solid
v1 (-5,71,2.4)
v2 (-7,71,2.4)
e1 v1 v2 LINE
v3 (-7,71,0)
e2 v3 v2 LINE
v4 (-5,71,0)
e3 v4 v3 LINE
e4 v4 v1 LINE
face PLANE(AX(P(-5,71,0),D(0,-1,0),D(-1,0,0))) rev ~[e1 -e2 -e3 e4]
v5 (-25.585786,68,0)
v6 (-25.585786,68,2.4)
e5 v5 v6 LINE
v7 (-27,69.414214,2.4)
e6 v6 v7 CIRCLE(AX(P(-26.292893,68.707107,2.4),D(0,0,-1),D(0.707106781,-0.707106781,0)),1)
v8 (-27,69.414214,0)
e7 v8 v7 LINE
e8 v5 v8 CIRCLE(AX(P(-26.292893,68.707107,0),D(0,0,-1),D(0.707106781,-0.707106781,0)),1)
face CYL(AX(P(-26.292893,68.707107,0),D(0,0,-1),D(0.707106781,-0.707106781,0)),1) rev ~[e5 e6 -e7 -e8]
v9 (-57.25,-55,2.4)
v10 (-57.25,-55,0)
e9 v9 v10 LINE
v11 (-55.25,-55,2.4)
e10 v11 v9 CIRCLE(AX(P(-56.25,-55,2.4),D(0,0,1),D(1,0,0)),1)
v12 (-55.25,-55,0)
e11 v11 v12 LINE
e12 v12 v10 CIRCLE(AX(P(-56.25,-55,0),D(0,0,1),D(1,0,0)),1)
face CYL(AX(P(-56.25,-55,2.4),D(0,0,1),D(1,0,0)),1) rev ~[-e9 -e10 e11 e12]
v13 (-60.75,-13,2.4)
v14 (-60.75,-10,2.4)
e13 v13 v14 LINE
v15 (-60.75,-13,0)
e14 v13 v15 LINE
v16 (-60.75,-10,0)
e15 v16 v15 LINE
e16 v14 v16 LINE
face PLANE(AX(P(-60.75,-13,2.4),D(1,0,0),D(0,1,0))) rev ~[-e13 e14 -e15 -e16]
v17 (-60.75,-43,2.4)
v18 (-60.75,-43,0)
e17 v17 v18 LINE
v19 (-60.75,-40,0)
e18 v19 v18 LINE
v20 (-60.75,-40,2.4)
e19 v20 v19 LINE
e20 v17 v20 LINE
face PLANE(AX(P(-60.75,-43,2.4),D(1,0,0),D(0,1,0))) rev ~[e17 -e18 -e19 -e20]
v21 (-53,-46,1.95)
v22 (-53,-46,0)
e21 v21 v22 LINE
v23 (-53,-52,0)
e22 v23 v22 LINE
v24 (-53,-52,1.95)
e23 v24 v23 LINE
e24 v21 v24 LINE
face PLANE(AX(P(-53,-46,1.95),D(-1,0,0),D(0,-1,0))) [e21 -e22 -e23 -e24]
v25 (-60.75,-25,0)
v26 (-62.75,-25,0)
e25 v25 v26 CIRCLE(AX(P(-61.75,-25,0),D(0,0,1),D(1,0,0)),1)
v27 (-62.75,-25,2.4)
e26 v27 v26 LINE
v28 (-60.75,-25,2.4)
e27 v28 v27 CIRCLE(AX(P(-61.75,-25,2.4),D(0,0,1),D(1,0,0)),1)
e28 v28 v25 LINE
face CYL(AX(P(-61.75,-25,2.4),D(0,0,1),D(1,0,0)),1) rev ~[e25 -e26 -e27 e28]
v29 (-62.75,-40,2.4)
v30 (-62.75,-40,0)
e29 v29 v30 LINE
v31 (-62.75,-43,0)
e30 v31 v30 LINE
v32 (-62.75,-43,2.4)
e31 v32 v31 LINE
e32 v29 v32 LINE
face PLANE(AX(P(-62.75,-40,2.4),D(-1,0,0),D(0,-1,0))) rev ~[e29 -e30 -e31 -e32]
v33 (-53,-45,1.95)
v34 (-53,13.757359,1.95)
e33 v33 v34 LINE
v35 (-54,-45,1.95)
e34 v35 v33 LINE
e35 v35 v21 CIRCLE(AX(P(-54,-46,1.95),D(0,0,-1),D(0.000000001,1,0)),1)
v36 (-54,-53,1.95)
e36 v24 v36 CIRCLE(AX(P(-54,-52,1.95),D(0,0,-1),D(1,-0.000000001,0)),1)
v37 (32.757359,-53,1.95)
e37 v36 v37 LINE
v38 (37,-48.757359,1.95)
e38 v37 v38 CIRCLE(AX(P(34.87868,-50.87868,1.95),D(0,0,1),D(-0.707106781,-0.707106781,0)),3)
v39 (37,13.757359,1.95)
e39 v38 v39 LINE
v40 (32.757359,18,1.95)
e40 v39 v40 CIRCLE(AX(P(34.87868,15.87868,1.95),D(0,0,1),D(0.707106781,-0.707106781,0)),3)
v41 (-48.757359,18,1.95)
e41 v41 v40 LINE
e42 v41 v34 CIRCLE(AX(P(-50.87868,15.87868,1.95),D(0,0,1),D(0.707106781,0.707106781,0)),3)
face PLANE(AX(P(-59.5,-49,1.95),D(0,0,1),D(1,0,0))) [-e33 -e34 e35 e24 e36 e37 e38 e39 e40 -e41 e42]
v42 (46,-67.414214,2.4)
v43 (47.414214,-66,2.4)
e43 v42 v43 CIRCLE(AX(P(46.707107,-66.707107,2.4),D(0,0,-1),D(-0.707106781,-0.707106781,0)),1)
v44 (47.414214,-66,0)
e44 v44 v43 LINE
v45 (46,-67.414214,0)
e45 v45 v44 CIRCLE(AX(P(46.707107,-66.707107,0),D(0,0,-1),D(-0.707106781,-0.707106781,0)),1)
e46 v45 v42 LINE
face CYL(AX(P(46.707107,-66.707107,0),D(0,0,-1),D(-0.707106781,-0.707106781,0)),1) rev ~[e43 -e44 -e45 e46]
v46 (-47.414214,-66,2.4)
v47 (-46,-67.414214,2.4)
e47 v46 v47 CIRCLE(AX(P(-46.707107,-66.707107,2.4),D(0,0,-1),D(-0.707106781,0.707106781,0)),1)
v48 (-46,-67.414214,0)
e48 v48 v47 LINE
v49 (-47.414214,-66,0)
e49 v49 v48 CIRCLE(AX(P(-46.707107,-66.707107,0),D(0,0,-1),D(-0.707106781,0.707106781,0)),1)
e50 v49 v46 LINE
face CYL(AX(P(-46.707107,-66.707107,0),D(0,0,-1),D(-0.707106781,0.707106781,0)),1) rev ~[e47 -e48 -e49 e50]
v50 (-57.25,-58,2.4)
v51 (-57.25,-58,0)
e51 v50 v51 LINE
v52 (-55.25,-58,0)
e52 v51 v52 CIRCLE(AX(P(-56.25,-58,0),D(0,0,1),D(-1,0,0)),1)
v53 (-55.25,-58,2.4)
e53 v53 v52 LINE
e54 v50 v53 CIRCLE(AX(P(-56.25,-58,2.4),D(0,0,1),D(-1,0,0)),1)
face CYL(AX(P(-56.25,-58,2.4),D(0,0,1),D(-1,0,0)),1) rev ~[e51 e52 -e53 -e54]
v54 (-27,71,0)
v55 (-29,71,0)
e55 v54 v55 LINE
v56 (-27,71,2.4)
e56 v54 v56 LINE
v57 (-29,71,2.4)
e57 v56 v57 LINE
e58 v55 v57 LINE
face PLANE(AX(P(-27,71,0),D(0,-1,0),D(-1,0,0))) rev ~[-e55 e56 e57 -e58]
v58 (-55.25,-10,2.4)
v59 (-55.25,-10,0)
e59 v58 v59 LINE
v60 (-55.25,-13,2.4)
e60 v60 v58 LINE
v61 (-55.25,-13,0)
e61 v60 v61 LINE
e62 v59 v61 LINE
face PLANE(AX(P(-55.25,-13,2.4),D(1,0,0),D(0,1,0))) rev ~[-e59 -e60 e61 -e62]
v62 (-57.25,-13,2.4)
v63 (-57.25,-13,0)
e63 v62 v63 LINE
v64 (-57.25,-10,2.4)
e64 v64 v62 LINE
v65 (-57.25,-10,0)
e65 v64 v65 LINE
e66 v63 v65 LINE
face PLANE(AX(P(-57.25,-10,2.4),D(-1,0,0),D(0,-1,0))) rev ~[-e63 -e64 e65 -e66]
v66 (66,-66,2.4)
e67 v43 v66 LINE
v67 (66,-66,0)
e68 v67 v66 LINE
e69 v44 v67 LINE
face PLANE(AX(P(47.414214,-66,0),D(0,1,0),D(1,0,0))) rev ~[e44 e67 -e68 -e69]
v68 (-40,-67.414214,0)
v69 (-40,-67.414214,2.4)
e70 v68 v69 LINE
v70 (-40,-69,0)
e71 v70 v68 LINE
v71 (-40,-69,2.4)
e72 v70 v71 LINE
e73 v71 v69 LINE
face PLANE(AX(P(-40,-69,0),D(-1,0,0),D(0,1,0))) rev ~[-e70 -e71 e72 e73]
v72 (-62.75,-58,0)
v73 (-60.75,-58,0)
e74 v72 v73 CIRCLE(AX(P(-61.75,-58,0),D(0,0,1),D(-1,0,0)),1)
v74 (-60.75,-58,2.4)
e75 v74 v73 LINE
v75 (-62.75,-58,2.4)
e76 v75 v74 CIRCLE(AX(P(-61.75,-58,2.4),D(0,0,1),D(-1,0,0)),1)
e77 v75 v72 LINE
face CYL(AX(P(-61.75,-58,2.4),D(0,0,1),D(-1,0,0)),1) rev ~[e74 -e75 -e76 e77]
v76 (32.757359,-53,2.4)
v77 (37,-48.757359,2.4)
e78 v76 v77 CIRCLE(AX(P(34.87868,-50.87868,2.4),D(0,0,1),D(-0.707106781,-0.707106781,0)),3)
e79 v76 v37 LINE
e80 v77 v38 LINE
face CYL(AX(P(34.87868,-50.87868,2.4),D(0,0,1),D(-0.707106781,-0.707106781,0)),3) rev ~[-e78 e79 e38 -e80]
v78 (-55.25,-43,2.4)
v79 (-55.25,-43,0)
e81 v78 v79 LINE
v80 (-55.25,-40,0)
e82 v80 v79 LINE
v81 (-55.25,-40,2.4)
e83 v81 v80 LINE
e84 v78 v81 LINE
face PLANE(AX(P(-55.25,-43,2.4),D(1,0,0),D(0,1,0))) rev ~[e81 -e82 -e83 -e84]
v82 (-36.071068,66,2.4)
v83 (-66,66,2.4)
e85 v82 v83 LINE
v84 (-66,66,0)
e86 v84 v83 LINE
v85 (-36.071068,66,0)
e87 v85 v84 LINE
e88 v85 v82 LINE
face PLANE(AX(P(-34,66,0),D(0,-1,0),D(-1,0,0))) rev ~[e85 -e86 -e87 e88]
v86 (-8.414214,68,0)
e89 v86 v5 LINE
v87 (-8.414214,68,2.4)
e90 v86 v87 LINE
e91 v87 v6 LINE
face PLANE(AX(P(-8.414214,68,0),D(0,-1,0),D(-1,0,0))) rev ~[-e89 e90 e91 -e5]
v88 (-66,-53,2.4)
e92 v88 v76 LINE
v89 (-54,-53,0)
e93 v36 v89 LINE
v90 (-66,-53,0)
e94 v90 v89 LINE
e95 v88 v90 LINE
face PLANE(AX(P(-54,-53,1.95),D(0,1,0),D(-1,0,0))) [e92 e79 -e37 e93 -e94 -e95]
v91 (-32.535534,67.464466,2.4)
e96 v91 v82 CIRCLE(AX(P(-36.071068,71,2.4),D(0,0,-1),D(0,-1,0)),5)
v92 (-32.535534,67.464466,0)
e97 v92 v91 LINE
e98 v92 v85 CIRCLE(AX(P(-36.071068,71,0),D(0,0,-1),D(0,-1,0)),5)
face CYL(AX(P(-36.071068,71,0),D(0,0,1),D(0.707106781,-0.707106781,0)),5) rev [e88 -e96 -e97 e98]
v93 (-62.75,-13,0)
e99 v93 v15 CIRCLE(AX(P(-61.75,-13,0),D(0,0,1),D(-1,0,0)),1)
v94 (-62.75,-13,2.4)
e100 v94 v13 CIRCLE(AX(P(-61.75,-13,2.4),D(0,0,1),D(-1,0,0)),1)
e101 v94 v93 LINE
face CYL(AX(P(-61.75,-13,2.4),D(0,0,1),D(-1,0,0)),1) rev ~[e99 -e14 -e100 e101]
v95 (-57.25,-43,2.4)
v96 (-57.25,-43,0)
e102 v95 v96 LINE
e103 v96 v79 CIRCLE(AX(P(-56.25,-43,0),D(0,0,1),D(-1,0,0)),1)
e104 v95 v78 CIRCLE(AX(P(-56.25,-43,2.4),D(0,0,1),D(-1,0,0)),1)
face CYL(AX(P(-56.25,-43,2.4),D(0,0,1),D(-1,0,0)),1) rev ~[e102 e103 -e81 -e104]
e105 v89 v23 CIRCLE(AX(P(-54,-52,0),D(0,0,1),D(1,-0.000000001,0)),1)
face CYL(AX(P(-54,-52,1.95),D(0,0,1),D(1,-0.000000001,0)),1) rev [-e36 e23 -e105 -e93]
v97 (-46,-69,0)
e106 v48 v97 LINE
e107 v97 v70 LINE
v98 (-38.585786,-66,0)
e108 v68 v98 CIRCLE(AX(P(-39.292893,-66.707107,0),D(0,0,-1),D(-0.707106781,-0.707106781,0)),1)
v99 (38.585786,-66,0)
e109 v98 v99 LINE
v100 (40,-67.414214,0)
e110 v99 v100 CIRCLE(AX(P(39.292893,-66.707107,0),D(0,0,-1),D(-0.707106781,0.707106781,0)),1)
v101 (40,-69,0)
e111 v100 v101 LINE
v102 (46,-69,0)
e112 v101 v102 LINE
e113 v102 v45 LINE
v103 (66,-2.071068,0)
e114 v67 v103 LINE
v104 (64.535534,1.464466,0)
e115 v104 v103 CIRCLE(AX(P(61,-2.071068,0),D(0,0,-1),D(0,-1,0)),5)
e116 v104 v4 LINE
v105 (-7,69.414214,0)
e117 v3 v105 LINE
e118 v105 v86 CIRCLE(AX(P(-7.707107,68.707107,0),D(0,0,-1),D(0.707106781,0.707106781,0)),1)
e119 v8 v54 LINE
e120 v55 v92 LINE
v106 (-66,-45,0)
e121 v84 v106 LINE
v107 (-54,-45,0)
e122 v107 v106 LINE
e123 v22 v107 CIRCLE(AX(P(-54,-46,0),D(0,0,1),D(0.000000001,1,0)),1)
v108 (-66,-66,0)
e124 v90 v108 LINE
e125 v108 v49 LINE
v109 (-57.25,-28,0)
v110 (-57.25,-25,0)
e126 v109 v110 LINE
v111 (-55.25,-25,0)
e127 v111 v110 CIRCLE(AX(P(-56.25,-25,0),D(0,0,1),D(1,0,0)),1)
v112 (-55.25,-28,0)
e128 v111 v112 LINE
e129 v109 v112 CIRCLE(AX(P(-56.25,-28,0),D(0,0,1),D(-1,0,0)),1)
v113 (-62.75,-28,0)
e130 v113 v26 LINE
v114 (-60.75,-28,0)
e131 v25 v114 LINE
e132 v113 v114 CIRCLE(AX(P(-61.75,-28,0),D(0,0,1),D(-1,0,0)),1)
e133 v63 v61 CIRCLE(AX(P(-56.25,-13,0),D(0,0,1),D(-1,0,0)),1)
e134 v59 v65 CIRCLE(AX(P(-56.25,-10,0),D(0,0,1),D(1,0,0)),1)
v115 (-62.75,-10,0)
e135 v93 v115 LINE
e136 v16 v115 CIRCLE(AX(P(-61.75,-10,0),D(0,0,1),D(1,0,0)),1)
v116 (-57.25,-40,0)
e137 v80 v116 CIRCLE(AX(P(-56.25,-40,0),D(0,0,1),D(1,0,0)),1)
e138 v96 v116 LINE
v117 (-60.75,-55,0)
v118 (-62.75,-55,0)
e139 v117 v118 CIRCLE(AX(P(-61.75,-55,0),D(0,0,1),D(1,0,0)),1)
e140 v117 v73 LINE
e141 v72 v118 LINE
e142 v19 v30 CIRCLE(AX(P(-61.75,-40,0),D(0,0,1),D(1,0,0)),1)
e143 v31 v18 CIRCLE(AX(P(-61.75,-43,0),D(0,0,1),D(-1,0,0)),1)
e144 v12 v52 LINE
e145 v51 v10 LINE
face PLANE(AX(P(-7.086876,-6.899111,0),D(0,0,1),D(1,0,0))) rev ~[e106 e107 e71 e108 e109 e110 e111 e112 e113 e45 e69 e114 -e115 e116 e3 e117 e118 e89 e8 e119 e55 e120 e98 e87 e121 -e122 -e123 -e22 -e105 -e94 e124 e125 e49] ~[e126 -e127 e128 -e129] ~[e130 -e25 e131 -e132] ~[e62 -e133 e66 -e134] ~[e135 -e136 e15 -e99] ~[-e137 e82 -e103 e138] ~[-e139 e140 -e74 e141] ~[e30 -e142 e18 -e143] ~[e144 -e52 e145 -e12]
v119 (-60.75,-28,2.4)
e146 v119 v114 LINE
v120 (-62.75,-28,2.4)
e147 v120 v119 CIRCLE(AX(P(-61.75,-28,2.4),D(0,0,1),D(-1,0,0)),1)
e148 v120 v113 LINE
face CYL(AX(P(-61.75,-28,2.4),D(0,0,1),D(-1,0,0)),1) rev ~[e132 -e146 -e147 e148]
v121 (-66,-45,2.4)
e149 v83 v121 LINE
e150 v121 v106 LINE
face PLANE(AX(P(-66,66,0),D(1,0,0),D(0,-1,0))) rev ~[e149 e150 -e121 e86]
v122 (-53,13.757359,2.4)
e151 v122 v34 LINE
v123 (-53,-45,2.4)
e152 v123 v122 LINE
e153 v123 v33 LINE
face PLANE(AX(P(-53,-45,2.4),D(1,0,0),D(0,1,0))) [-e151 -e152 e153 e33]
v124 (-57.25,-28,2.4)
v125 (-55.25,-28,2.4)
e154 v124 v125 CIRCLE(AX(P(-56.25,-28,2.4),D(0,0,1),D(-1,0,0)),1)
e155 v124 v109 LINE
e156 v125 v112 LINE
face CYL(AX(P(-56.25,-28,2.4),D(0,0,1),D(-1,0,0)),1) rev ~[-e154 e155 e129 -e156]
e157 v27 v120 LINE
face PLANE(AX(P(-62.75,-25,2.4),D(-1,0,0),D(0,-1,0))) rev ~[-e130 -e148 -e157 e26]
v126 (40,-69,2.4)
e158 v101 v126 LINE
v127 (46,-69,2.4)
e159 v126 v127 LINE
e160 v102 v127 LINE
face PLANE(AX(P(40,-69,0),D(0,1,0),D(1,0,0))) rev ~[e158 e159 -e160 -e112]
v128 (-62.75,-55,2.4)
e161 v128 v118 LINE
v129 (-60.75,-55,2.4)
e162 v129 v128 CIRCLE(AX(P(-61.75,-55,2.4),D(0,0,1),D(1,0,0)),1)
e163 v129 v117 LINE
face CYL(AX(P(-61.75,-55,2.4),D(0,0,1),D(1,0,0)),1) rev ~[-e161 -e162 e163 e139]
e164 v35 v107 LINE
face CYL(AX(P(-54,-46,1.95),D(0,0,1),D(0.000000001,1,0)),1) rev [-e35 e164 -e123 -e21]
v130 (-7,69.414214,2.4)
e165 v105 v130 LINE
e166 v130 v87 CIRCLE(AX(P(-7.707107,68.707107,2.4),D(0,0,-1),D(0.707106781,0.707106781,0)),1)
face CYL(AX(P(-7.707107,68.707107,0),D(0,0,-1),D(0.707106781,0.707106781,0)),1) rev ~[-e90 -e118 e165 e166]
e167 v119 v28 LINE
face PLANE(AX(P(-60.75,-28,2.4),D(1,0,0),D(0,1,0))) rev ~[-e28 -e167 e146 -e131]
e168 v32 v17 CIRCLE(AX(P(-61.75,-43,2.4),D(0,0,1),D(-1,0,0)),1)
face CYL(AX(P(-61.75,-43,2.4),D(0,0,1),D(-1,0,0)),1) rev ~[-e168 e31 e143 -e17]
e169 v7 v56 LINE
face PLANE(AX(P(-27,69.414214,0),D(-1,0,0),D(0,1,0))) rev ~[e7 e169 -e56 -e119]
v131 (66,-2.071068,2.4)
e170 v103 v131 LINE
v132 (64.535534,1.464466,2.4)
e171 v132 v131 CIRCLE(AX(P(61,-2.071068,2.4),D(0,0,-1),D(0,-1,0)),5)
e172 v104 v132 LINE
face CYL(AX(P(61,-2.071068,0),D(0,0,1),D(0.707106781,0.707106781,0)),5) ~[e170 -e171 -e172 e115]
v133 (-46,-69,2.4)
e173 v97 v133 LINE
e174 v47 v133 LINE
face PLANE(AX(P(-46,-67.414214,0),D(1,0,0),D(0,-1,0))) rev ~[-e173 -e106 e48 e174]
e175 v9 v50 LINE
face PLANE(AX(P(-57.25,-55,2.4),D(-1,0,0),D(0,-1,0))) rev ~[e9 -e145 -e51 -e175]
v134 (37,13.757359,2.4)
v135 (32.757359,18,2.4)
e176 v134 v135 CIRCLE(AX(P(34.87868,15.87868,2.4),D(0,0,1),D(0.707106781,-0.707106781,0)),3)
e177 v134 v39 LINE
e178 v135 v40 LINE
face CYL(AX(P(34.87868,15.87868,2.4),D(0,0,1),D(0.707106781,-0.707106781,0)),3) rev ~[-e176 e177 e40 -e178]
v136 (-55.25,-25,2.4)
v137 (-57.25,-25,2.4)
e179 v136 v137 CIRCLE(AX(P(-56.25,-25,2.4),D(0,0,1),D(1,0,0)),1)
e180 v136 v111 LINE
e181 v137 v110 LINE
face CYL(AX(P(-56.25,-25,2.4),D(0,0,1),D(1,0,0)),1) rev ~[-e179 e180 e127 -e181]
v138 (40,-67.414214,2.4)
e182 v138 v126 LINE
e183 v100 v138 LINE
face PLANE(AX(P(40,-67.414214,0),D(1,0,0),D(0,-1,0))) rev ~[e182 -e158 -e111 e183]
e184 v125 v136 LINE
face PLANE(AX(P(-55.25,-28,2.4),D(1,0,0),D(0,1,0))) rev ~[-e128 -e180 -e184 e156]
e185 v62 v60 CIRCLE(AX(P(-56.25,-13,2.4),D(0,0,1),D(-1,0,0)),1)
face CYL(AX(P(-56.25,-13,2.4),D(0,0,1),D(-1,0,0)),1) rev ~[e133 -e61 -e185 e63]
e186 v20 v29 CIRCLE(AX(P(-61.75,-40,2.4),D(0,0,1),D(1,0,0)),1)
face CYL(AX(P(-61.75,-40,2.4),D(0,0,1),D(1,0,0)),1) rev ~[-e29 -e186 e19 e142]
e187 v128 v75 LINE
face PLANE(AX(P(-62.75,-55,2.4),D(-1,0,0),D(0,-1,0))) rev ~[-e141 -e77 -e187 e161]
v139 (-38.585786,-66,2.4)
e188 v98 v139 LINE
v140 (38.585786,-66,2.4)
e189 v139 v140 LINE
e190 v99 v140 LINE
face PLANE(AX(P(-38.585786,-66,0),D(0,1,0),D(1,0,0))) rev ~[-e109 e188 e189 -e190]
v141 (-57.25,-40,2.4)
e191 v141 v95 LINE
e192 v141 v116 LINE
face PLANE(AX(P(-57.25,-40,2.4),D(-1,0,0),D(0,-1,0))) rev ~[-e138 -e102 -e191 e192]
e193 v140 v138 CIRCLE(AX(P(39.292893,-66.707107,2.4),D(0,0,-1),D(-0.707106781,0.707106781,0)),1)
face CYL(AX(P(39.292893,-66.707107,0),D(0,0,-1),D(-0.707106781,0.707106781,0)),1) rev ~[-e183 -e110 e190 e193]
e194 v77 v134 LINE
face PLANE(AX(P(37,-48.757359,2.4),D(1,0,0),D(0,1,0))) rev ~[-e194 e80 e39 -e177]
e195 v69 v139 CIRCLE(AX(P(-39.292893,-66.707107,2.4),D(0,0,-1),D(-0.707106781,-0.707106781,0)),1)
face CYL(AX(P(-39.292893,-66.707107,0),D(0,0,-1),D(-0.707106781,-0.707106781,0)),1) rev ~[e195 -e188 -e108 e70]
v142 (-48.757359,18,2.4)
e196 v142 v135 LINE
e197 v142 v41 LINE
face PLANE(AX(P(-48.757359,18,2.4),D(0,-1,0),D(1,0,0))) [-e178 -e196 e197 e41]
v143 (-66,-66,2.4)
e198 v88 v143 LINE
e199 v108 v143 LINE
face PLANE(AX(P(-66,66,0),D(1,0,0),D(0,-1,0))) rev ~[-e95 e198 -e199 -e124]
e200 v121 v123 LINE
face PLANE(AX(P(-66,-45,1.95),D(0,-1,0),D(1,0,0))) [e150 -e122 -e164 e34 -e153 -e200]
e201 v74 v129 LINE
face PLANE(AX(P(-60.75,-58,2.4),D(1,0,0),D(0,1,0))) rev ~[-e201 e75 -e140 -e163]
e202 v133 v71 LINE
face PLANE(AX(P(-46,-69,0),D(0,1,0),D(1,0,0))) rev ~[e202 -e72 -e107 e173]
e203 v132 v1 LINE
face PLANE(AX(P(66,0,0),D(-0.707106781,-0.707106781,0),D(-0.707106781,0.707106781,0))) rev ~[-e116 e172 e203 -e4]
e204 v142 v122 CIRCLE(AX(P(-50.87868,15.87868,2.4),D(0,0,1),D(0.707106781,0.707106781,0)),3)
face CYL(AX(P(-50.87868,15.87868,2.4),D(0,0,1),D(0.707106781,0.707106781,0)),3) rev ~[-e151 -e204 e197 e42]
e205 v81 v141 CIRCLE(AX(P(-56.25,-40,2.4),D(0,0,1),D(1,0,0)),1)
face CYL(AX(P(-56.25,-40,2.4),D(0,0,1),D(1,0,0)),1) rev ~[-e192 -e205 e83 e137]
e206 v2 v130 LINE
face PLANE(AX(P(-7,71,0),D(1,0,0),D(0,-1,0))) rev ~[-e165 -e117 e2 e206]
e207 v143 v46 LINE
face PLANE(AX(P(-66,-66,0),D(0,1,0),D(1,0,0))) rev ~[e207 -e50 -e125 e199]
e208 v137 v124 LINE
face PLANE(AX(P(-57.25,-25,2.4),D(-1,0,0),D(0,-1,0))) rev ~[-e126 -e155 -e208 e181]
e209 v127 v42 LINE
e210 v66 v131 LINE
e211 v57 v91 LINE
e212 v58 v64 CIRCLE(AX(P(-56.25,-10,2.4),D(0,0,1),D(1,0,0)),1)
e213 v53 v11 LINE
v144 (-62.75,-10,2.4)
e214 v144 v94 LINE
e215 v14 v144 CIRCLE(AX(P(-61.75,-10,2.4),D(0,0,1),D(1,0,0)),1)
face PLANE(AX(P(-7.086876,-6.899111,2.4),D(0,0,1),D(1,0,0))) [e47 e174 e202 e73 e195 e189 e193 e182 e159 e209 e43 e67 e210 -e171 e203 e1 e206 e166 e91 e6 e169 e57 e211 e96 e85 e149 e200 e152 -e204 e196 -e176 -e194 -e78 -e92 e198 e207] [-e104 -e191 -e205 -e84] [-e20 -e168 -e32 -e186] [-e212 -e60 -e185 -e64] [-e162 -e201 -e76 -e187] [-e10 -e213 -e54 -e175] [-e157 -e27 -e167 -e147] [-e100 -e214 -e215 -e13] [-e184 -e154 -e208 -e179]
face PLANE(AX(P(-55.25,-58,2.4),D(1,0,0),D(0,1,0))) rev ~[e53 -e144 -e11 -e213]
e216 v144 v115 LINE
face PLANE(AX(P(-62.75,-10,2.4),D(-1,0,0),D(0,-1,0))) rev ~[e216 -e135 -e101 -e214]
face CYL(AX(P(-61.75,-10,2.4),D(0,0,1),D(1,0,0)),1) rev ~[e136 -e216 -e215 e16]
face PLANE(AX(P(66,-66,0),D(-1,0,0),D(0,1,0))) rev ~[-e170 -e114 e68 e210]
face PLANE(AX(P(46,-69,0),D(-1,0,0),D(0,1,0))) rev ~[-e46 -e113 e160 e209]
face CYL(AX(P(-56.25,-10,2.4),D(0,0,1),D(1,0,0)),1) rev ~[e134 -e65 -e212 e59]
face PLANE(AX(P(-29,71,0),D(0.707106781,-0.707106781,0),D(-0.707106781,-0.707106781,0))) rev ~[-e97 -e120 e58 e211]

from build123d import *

# Parameters (mm, degrees)
BOSS_EXTRUDE1_DEPTH = 2.4
CUT_EXTRUDE1_REACH  = 98.968
CUT_EXTRUDE2_DEPTH  = 0.45
CUT_EXTRUDE3_REACH  = 98.958
FILLET1_R           = 5


with BuildPart() as part:
    # Sketch1 → Boss-Extrude1 (new body)
    with BuildSketch(Plane.XY):
        with BuildLine():
            Line((66, 0), (-5, 71))
            Line((-5, 71), (-7, 71))
            Line((-7, 71), (-7, 69.414213562))
            ThreePointArc((-7, 69.414213562), (-7, 68), (-8.414213562, 68))
            Line((-8.414213562, 68), (-25.585786438, 68))
            ThreePointArc((-25.585786438, 68), (-27, 68), (-27, 69.414213562))
            Line((-27, 69.414213562), (-27, 71))
            Line((-27, 71), (-29, 71))
            Line((-29, 71), (-34, 66))
            Line((-34, 66), (-66, 66))
            Line((-66, 66), (-66, -66))
            Line((-66, -66), (-47.414213562, -66))
            ThreePointArc((-47.414213562, -66), (-46, -66), (-46, -67.414213562))
            Line((-46, -67.414213562), (-46, -69))
            Line((-46, -69), (-40, -69))
            Line((-40, -69), (-40, -67.414213562))
            ThreePointArc((-40, -67.414213562), (-40, -66), (-38.585786438, -66))
            Line((-38.585786438, -66), (38.585786438, -66))
            ThreePointArc((38.585786438, -66), (40, -66), (40, -67.414213562))
            Line((40, -67.414213562), (40, -69))
            Line((40, -69), (46, -69))
            Line((46, -69), (46, -67.414213562))
            ThreePointArc((46, -67.414213562), (46, -66), (47.414213562, -66))
            Line((47.414213562, -66), (66, -66))
            Line((66, -66), (66, 0))
        make_face()
    extrude(amount=BOSS_EXTRUDE1_DEPTH)

    # Sketch3 → Cut-Extrude1 (cut, up to next)
    with BuildSketch(Plane.XY.offset(2.4), mode=Mode.PRIVATE) as cut_extrude1_sk1:
        with BuildLine():
            Line((-60.75, -13), (-60.75, -10))
            ThreePointArc((-60.75, -10), (-61.75, -9), (-62.75, -10))
            Line((-62.75, -10), (-62.75, -13))
            ThreePointArc((-62.75, -13), (-61.75, -14), (-60.75, -13))
        make_face()
    cut_extrude1_tool1 = extrude(cut_extrude1_sk1.sketch, amount=-CUT_EXTRUDE1_REACH, mode=Mode.PRIVATE) & part.part
    # Sketch3 → Cut-Extrude1 (cut, up to next)
    with BuildSketch(Plane.XY.offset(2.4), mode=Mode.PRIVATE) as cut_extrude1_sk2:
        with BuildLine():
            ThreePointArc((-55.25, -10), (-56.25, -9), (-57.25, -10))
            Line((-57.25, -10), (-57.25, -13))
            ThreePointArc((-57.25, -13), (-56.25, -14), (-55.25, -13))
            Line((-55.25, -13), (-55.25, -10))
        make_face()
    cut_extrude1_tool2 = extrude(cut_extrude1_sk2.sketch, amount=-CUT_EXTRUDE1_REACH, mode=Mode.PRIVATE) & part.part
    # Sketch3 → Cut-Extrude1 (cut, up to next)
    with BuildSketch(Plane.XY.offset(2.4), mode=Mode.PRIVATE) as cut_extrude1_sk3:
        with BuildLine():
            Line((-60.75, -28), (-60.75, -25))
            ThreePointArc((-60.75, -25), (-61.75, -24), (-62.75, -25))
            Line((-62.75, -25), (-62.75, -28))
            ThreePointArc((-62.75, -28), (-61.75, -29), (-60.75, -28))
        make_face()
    cut_extrude1_tool3 = extrude(cut_extrude1_sk3.sketch, amount=-CUT_EXTRUDE1_REACH, mode=Mode.PRIVATE) & part.part
    # Sketch3 → Cut-Extrude1 (cut, up to next)
    with BuildSketch(Plane.XY.offset(2.4), mode=Mode.PRIVATE) as cut_extrude1_sk4:
        with BuildLine():
            ThreePointArc((-55.25, -25), (-56.25, -24), (-57.25, -25))
            Line((-57.25, -25), (-57.25, -28))
            ThreePointArc((-57.25, -28), (-56.25, -29), (-55.25, -28))
            Line((-55.25, -28), (-55.25, -25))
        make_face()
    cut_extrude1_tool4 = extrude(cut_extrude1_sk4.sketch, amount=-CUT_EXTRUDE1_REACH, mode=Mode.PRIVATE) & part.part
    # Sketch3 → Cut-Extrude1 (cut, up to next)
    with BuildSketch(Plane.XY.offset(2.4), mode=Mode.PRIVATE) as cut_extrude1_sk5:
        with BuildLine():
            Line((-60.75, -43), (-60.75, -40))
            ThreePointArc((-60.75, -40), (-61.75, -39), (-62.75, -40))
            Line((-62.75, -40), (-62.75, -43))
            ThreePointArc((-62.75, -43), (-61.75, -44), (-60.75, -43))
        make_face()
    cut_extrude1_tool5 = extrude(cut_extrude1_sk5.sketch, amount=-CUT_EXTRUDE1_REACH, mode=Mode.PRIVATE) & part.part
    # Sketch3 → Cut-Extrude1 (cut, up to next)
    with BuildSketch(Plane.XY.offset(2.4), mode=Mode.PRIVATE) as cut_extrude1_sk6:
        with BuildLine():
            ThreePointArc((-55.25, -40), (-56.25, -39), (-57.25, -40))
            Line((-57.25, -40), (-57.25, -43))
            ThreePointArc((-57.25, -43), (-56.25, -44), (-55.25, -43))
            Line((-55.25, -43), (-55.25, -40))
        make_face()
    cut_extrude1_tool6 = extrude(cut_extrude1_sk6.sketch, amount=-CUT_EXTRUDE1_REACH, mode=Mode.PRIVATE) & part.part
    # Sketch3 → Cut-Extrude1 (cut, up to next)
    with BuildSketch(Plane.XY.offset(2.4), mode=Mode.PRIVATE) as cut_extrude1_sk7:
        with BuildLine():
            Line((-60.75, -58), (-60.75, -55))
            ThreePointArc((-60.75, -55), (-61.75, -54), (-62.75, -55))
            Line((-62.75, -55), (-62.75, -58))
            ThreePointArc((-62.75, -58), (-61.75, -59), (-60.75, -58))
        make_face()
    cut_extrude1_tool7 = extrude(cut_extrude1_sk7.sketch, amount=-CUT_EXTRUDE1_REACH, mode=Mode.PRIVATE) & part.part
    # Sketch3 → Cut-Extrude1 (cut, up to next)
    with BuildSketch(Plane.XY.offset(2.4), mode=Mode.PRIVATE) as cut_extrude1_sk8:
        with BuildLine():
            ThreePointArc((-55.25, -55), (-56.25, -54), (-57.25, -55))
            Line((-57.25, -55), (-57.25, -58))
            ThreePointArc((-57.25, -58), (-56.25, -59), (-55.25, -58))
            Line((-55.25, -58), (-55.25, -55))
        make_face()
    cut_extrude1_tool8 = extrude(cut_extrude1_sk8.sketch, amount=-CUT_EXTRUDE1_REACH, mode=Mode.PRIVATE) & part.part
    add(cut_extrude1_tool1.solids().sort_by_distance((-61.75, -11.5, 2.4))[0], mode=Mode.SUBTRACT)
    add(cut_extrude1_tool2.solids().sort_by_distance((-56.25, -11.5, 2.4))[0], mode=Mode.SUBTRACT)
    add(cut_extrude1_tool3.solids().sort_by_distance((-61.75, -26.5, 2.4))[0], mode=Mode.SUBTRACT)
    add(cut_extrude1_tool4.solids().sort_by_distance((-56.25, -26.5, 2.4))[0], mode=Mode.SUBTRACT)
    add(cut_extrude1_tool5.solids().sort_by_distance((-61.75, -41.5, 2.4))[0], mode=Mode.SUBTRACT)
    add(cut_extrude1_tool6.solids().sort_by_distance((-56.25, -41.5, 2.4))[0], mode=Mode.SUBTRACT)
    add(cut_extrude1_tool7.solids().sort_by_distance((-61.75, -56.5, 2.4))[0], mode=Mode.SUBTRACT)
    add(cut_extrude1_tool8.solids().sort_by_distance((-56.25, -56.5, 2.4))[0], mode=Mode.SUBTRACT)

    # Sketch4 → Cut-Extrude2 (cut)
    with BuildSketch(Plane.XY.offset(2.4)):
        with BuildLine():
            Line((-53, 13.757359313), (-53, -45))
            Line((-53, -45), (-66, -45))
            Line((-66, -45), (-66, -53))
            Line((-66, -53), (32.757359313, -53))
            ThreePointArc((32.757359313, -53), (37, -53), (37, -48.757359313))
            Line((37, -48.757359313), (37, 13.757359313))
            ThreePointArc((37, 13.757359313), (37, 18), (32.757359313, 18))
            Line((32.757359313, 18), (-48.757359313, 18))
            ThreePointArc((-48.757359313, 18), (-53, 18), (-53, 13.757359313))
        make_face()
    extrude(amount=-CUT_EXTRUDE2_DEPTH, mode=Mode.SUBTRACT)

    # Sketch5 → Cut-Extrude3 (cut, up to next)
    with BuildSketch(Plane.XY.offset(1.95), mode=Mode.PRIVATE) as cut_extrude3_sk1:
        with BuildLine():
            Line((-66, -45), (-54, -45))
            ThreePointArc((-54, -45), (-53.292893219, -45.292893219), (-53, -46))
            Line((-53, -46), (-53, -52))
            ThreePointArc((-53, -52), (-53.292893219, -52.707106781), (-54, -53))
            Line((-54, -53), (-66, -53))
            Line((-66, -53), (-66, -45))
        make_face()
    cut_extrude3_tool1 = extrude(cut_extrude3_sk1.sketch, amount=-CUT_EXTRUDE3_REACH, mode=Mode.PRIVATE) & part.part
    add(cut_extrude3_tool1.solids().sort_by_distance((-59.526011, -49, 1.95))[0], mode=Mode.SUBTRACT)

    # Fillet1
    fillet1_edges = [part.edges().sort_by_distance(p)[0] for p in [
        (66, 0, 1.2),
        (-34, 66, 1.2),
    ]]
    fillet(fillet1_edges, radius=FILLET1_R)


solid = part.part
